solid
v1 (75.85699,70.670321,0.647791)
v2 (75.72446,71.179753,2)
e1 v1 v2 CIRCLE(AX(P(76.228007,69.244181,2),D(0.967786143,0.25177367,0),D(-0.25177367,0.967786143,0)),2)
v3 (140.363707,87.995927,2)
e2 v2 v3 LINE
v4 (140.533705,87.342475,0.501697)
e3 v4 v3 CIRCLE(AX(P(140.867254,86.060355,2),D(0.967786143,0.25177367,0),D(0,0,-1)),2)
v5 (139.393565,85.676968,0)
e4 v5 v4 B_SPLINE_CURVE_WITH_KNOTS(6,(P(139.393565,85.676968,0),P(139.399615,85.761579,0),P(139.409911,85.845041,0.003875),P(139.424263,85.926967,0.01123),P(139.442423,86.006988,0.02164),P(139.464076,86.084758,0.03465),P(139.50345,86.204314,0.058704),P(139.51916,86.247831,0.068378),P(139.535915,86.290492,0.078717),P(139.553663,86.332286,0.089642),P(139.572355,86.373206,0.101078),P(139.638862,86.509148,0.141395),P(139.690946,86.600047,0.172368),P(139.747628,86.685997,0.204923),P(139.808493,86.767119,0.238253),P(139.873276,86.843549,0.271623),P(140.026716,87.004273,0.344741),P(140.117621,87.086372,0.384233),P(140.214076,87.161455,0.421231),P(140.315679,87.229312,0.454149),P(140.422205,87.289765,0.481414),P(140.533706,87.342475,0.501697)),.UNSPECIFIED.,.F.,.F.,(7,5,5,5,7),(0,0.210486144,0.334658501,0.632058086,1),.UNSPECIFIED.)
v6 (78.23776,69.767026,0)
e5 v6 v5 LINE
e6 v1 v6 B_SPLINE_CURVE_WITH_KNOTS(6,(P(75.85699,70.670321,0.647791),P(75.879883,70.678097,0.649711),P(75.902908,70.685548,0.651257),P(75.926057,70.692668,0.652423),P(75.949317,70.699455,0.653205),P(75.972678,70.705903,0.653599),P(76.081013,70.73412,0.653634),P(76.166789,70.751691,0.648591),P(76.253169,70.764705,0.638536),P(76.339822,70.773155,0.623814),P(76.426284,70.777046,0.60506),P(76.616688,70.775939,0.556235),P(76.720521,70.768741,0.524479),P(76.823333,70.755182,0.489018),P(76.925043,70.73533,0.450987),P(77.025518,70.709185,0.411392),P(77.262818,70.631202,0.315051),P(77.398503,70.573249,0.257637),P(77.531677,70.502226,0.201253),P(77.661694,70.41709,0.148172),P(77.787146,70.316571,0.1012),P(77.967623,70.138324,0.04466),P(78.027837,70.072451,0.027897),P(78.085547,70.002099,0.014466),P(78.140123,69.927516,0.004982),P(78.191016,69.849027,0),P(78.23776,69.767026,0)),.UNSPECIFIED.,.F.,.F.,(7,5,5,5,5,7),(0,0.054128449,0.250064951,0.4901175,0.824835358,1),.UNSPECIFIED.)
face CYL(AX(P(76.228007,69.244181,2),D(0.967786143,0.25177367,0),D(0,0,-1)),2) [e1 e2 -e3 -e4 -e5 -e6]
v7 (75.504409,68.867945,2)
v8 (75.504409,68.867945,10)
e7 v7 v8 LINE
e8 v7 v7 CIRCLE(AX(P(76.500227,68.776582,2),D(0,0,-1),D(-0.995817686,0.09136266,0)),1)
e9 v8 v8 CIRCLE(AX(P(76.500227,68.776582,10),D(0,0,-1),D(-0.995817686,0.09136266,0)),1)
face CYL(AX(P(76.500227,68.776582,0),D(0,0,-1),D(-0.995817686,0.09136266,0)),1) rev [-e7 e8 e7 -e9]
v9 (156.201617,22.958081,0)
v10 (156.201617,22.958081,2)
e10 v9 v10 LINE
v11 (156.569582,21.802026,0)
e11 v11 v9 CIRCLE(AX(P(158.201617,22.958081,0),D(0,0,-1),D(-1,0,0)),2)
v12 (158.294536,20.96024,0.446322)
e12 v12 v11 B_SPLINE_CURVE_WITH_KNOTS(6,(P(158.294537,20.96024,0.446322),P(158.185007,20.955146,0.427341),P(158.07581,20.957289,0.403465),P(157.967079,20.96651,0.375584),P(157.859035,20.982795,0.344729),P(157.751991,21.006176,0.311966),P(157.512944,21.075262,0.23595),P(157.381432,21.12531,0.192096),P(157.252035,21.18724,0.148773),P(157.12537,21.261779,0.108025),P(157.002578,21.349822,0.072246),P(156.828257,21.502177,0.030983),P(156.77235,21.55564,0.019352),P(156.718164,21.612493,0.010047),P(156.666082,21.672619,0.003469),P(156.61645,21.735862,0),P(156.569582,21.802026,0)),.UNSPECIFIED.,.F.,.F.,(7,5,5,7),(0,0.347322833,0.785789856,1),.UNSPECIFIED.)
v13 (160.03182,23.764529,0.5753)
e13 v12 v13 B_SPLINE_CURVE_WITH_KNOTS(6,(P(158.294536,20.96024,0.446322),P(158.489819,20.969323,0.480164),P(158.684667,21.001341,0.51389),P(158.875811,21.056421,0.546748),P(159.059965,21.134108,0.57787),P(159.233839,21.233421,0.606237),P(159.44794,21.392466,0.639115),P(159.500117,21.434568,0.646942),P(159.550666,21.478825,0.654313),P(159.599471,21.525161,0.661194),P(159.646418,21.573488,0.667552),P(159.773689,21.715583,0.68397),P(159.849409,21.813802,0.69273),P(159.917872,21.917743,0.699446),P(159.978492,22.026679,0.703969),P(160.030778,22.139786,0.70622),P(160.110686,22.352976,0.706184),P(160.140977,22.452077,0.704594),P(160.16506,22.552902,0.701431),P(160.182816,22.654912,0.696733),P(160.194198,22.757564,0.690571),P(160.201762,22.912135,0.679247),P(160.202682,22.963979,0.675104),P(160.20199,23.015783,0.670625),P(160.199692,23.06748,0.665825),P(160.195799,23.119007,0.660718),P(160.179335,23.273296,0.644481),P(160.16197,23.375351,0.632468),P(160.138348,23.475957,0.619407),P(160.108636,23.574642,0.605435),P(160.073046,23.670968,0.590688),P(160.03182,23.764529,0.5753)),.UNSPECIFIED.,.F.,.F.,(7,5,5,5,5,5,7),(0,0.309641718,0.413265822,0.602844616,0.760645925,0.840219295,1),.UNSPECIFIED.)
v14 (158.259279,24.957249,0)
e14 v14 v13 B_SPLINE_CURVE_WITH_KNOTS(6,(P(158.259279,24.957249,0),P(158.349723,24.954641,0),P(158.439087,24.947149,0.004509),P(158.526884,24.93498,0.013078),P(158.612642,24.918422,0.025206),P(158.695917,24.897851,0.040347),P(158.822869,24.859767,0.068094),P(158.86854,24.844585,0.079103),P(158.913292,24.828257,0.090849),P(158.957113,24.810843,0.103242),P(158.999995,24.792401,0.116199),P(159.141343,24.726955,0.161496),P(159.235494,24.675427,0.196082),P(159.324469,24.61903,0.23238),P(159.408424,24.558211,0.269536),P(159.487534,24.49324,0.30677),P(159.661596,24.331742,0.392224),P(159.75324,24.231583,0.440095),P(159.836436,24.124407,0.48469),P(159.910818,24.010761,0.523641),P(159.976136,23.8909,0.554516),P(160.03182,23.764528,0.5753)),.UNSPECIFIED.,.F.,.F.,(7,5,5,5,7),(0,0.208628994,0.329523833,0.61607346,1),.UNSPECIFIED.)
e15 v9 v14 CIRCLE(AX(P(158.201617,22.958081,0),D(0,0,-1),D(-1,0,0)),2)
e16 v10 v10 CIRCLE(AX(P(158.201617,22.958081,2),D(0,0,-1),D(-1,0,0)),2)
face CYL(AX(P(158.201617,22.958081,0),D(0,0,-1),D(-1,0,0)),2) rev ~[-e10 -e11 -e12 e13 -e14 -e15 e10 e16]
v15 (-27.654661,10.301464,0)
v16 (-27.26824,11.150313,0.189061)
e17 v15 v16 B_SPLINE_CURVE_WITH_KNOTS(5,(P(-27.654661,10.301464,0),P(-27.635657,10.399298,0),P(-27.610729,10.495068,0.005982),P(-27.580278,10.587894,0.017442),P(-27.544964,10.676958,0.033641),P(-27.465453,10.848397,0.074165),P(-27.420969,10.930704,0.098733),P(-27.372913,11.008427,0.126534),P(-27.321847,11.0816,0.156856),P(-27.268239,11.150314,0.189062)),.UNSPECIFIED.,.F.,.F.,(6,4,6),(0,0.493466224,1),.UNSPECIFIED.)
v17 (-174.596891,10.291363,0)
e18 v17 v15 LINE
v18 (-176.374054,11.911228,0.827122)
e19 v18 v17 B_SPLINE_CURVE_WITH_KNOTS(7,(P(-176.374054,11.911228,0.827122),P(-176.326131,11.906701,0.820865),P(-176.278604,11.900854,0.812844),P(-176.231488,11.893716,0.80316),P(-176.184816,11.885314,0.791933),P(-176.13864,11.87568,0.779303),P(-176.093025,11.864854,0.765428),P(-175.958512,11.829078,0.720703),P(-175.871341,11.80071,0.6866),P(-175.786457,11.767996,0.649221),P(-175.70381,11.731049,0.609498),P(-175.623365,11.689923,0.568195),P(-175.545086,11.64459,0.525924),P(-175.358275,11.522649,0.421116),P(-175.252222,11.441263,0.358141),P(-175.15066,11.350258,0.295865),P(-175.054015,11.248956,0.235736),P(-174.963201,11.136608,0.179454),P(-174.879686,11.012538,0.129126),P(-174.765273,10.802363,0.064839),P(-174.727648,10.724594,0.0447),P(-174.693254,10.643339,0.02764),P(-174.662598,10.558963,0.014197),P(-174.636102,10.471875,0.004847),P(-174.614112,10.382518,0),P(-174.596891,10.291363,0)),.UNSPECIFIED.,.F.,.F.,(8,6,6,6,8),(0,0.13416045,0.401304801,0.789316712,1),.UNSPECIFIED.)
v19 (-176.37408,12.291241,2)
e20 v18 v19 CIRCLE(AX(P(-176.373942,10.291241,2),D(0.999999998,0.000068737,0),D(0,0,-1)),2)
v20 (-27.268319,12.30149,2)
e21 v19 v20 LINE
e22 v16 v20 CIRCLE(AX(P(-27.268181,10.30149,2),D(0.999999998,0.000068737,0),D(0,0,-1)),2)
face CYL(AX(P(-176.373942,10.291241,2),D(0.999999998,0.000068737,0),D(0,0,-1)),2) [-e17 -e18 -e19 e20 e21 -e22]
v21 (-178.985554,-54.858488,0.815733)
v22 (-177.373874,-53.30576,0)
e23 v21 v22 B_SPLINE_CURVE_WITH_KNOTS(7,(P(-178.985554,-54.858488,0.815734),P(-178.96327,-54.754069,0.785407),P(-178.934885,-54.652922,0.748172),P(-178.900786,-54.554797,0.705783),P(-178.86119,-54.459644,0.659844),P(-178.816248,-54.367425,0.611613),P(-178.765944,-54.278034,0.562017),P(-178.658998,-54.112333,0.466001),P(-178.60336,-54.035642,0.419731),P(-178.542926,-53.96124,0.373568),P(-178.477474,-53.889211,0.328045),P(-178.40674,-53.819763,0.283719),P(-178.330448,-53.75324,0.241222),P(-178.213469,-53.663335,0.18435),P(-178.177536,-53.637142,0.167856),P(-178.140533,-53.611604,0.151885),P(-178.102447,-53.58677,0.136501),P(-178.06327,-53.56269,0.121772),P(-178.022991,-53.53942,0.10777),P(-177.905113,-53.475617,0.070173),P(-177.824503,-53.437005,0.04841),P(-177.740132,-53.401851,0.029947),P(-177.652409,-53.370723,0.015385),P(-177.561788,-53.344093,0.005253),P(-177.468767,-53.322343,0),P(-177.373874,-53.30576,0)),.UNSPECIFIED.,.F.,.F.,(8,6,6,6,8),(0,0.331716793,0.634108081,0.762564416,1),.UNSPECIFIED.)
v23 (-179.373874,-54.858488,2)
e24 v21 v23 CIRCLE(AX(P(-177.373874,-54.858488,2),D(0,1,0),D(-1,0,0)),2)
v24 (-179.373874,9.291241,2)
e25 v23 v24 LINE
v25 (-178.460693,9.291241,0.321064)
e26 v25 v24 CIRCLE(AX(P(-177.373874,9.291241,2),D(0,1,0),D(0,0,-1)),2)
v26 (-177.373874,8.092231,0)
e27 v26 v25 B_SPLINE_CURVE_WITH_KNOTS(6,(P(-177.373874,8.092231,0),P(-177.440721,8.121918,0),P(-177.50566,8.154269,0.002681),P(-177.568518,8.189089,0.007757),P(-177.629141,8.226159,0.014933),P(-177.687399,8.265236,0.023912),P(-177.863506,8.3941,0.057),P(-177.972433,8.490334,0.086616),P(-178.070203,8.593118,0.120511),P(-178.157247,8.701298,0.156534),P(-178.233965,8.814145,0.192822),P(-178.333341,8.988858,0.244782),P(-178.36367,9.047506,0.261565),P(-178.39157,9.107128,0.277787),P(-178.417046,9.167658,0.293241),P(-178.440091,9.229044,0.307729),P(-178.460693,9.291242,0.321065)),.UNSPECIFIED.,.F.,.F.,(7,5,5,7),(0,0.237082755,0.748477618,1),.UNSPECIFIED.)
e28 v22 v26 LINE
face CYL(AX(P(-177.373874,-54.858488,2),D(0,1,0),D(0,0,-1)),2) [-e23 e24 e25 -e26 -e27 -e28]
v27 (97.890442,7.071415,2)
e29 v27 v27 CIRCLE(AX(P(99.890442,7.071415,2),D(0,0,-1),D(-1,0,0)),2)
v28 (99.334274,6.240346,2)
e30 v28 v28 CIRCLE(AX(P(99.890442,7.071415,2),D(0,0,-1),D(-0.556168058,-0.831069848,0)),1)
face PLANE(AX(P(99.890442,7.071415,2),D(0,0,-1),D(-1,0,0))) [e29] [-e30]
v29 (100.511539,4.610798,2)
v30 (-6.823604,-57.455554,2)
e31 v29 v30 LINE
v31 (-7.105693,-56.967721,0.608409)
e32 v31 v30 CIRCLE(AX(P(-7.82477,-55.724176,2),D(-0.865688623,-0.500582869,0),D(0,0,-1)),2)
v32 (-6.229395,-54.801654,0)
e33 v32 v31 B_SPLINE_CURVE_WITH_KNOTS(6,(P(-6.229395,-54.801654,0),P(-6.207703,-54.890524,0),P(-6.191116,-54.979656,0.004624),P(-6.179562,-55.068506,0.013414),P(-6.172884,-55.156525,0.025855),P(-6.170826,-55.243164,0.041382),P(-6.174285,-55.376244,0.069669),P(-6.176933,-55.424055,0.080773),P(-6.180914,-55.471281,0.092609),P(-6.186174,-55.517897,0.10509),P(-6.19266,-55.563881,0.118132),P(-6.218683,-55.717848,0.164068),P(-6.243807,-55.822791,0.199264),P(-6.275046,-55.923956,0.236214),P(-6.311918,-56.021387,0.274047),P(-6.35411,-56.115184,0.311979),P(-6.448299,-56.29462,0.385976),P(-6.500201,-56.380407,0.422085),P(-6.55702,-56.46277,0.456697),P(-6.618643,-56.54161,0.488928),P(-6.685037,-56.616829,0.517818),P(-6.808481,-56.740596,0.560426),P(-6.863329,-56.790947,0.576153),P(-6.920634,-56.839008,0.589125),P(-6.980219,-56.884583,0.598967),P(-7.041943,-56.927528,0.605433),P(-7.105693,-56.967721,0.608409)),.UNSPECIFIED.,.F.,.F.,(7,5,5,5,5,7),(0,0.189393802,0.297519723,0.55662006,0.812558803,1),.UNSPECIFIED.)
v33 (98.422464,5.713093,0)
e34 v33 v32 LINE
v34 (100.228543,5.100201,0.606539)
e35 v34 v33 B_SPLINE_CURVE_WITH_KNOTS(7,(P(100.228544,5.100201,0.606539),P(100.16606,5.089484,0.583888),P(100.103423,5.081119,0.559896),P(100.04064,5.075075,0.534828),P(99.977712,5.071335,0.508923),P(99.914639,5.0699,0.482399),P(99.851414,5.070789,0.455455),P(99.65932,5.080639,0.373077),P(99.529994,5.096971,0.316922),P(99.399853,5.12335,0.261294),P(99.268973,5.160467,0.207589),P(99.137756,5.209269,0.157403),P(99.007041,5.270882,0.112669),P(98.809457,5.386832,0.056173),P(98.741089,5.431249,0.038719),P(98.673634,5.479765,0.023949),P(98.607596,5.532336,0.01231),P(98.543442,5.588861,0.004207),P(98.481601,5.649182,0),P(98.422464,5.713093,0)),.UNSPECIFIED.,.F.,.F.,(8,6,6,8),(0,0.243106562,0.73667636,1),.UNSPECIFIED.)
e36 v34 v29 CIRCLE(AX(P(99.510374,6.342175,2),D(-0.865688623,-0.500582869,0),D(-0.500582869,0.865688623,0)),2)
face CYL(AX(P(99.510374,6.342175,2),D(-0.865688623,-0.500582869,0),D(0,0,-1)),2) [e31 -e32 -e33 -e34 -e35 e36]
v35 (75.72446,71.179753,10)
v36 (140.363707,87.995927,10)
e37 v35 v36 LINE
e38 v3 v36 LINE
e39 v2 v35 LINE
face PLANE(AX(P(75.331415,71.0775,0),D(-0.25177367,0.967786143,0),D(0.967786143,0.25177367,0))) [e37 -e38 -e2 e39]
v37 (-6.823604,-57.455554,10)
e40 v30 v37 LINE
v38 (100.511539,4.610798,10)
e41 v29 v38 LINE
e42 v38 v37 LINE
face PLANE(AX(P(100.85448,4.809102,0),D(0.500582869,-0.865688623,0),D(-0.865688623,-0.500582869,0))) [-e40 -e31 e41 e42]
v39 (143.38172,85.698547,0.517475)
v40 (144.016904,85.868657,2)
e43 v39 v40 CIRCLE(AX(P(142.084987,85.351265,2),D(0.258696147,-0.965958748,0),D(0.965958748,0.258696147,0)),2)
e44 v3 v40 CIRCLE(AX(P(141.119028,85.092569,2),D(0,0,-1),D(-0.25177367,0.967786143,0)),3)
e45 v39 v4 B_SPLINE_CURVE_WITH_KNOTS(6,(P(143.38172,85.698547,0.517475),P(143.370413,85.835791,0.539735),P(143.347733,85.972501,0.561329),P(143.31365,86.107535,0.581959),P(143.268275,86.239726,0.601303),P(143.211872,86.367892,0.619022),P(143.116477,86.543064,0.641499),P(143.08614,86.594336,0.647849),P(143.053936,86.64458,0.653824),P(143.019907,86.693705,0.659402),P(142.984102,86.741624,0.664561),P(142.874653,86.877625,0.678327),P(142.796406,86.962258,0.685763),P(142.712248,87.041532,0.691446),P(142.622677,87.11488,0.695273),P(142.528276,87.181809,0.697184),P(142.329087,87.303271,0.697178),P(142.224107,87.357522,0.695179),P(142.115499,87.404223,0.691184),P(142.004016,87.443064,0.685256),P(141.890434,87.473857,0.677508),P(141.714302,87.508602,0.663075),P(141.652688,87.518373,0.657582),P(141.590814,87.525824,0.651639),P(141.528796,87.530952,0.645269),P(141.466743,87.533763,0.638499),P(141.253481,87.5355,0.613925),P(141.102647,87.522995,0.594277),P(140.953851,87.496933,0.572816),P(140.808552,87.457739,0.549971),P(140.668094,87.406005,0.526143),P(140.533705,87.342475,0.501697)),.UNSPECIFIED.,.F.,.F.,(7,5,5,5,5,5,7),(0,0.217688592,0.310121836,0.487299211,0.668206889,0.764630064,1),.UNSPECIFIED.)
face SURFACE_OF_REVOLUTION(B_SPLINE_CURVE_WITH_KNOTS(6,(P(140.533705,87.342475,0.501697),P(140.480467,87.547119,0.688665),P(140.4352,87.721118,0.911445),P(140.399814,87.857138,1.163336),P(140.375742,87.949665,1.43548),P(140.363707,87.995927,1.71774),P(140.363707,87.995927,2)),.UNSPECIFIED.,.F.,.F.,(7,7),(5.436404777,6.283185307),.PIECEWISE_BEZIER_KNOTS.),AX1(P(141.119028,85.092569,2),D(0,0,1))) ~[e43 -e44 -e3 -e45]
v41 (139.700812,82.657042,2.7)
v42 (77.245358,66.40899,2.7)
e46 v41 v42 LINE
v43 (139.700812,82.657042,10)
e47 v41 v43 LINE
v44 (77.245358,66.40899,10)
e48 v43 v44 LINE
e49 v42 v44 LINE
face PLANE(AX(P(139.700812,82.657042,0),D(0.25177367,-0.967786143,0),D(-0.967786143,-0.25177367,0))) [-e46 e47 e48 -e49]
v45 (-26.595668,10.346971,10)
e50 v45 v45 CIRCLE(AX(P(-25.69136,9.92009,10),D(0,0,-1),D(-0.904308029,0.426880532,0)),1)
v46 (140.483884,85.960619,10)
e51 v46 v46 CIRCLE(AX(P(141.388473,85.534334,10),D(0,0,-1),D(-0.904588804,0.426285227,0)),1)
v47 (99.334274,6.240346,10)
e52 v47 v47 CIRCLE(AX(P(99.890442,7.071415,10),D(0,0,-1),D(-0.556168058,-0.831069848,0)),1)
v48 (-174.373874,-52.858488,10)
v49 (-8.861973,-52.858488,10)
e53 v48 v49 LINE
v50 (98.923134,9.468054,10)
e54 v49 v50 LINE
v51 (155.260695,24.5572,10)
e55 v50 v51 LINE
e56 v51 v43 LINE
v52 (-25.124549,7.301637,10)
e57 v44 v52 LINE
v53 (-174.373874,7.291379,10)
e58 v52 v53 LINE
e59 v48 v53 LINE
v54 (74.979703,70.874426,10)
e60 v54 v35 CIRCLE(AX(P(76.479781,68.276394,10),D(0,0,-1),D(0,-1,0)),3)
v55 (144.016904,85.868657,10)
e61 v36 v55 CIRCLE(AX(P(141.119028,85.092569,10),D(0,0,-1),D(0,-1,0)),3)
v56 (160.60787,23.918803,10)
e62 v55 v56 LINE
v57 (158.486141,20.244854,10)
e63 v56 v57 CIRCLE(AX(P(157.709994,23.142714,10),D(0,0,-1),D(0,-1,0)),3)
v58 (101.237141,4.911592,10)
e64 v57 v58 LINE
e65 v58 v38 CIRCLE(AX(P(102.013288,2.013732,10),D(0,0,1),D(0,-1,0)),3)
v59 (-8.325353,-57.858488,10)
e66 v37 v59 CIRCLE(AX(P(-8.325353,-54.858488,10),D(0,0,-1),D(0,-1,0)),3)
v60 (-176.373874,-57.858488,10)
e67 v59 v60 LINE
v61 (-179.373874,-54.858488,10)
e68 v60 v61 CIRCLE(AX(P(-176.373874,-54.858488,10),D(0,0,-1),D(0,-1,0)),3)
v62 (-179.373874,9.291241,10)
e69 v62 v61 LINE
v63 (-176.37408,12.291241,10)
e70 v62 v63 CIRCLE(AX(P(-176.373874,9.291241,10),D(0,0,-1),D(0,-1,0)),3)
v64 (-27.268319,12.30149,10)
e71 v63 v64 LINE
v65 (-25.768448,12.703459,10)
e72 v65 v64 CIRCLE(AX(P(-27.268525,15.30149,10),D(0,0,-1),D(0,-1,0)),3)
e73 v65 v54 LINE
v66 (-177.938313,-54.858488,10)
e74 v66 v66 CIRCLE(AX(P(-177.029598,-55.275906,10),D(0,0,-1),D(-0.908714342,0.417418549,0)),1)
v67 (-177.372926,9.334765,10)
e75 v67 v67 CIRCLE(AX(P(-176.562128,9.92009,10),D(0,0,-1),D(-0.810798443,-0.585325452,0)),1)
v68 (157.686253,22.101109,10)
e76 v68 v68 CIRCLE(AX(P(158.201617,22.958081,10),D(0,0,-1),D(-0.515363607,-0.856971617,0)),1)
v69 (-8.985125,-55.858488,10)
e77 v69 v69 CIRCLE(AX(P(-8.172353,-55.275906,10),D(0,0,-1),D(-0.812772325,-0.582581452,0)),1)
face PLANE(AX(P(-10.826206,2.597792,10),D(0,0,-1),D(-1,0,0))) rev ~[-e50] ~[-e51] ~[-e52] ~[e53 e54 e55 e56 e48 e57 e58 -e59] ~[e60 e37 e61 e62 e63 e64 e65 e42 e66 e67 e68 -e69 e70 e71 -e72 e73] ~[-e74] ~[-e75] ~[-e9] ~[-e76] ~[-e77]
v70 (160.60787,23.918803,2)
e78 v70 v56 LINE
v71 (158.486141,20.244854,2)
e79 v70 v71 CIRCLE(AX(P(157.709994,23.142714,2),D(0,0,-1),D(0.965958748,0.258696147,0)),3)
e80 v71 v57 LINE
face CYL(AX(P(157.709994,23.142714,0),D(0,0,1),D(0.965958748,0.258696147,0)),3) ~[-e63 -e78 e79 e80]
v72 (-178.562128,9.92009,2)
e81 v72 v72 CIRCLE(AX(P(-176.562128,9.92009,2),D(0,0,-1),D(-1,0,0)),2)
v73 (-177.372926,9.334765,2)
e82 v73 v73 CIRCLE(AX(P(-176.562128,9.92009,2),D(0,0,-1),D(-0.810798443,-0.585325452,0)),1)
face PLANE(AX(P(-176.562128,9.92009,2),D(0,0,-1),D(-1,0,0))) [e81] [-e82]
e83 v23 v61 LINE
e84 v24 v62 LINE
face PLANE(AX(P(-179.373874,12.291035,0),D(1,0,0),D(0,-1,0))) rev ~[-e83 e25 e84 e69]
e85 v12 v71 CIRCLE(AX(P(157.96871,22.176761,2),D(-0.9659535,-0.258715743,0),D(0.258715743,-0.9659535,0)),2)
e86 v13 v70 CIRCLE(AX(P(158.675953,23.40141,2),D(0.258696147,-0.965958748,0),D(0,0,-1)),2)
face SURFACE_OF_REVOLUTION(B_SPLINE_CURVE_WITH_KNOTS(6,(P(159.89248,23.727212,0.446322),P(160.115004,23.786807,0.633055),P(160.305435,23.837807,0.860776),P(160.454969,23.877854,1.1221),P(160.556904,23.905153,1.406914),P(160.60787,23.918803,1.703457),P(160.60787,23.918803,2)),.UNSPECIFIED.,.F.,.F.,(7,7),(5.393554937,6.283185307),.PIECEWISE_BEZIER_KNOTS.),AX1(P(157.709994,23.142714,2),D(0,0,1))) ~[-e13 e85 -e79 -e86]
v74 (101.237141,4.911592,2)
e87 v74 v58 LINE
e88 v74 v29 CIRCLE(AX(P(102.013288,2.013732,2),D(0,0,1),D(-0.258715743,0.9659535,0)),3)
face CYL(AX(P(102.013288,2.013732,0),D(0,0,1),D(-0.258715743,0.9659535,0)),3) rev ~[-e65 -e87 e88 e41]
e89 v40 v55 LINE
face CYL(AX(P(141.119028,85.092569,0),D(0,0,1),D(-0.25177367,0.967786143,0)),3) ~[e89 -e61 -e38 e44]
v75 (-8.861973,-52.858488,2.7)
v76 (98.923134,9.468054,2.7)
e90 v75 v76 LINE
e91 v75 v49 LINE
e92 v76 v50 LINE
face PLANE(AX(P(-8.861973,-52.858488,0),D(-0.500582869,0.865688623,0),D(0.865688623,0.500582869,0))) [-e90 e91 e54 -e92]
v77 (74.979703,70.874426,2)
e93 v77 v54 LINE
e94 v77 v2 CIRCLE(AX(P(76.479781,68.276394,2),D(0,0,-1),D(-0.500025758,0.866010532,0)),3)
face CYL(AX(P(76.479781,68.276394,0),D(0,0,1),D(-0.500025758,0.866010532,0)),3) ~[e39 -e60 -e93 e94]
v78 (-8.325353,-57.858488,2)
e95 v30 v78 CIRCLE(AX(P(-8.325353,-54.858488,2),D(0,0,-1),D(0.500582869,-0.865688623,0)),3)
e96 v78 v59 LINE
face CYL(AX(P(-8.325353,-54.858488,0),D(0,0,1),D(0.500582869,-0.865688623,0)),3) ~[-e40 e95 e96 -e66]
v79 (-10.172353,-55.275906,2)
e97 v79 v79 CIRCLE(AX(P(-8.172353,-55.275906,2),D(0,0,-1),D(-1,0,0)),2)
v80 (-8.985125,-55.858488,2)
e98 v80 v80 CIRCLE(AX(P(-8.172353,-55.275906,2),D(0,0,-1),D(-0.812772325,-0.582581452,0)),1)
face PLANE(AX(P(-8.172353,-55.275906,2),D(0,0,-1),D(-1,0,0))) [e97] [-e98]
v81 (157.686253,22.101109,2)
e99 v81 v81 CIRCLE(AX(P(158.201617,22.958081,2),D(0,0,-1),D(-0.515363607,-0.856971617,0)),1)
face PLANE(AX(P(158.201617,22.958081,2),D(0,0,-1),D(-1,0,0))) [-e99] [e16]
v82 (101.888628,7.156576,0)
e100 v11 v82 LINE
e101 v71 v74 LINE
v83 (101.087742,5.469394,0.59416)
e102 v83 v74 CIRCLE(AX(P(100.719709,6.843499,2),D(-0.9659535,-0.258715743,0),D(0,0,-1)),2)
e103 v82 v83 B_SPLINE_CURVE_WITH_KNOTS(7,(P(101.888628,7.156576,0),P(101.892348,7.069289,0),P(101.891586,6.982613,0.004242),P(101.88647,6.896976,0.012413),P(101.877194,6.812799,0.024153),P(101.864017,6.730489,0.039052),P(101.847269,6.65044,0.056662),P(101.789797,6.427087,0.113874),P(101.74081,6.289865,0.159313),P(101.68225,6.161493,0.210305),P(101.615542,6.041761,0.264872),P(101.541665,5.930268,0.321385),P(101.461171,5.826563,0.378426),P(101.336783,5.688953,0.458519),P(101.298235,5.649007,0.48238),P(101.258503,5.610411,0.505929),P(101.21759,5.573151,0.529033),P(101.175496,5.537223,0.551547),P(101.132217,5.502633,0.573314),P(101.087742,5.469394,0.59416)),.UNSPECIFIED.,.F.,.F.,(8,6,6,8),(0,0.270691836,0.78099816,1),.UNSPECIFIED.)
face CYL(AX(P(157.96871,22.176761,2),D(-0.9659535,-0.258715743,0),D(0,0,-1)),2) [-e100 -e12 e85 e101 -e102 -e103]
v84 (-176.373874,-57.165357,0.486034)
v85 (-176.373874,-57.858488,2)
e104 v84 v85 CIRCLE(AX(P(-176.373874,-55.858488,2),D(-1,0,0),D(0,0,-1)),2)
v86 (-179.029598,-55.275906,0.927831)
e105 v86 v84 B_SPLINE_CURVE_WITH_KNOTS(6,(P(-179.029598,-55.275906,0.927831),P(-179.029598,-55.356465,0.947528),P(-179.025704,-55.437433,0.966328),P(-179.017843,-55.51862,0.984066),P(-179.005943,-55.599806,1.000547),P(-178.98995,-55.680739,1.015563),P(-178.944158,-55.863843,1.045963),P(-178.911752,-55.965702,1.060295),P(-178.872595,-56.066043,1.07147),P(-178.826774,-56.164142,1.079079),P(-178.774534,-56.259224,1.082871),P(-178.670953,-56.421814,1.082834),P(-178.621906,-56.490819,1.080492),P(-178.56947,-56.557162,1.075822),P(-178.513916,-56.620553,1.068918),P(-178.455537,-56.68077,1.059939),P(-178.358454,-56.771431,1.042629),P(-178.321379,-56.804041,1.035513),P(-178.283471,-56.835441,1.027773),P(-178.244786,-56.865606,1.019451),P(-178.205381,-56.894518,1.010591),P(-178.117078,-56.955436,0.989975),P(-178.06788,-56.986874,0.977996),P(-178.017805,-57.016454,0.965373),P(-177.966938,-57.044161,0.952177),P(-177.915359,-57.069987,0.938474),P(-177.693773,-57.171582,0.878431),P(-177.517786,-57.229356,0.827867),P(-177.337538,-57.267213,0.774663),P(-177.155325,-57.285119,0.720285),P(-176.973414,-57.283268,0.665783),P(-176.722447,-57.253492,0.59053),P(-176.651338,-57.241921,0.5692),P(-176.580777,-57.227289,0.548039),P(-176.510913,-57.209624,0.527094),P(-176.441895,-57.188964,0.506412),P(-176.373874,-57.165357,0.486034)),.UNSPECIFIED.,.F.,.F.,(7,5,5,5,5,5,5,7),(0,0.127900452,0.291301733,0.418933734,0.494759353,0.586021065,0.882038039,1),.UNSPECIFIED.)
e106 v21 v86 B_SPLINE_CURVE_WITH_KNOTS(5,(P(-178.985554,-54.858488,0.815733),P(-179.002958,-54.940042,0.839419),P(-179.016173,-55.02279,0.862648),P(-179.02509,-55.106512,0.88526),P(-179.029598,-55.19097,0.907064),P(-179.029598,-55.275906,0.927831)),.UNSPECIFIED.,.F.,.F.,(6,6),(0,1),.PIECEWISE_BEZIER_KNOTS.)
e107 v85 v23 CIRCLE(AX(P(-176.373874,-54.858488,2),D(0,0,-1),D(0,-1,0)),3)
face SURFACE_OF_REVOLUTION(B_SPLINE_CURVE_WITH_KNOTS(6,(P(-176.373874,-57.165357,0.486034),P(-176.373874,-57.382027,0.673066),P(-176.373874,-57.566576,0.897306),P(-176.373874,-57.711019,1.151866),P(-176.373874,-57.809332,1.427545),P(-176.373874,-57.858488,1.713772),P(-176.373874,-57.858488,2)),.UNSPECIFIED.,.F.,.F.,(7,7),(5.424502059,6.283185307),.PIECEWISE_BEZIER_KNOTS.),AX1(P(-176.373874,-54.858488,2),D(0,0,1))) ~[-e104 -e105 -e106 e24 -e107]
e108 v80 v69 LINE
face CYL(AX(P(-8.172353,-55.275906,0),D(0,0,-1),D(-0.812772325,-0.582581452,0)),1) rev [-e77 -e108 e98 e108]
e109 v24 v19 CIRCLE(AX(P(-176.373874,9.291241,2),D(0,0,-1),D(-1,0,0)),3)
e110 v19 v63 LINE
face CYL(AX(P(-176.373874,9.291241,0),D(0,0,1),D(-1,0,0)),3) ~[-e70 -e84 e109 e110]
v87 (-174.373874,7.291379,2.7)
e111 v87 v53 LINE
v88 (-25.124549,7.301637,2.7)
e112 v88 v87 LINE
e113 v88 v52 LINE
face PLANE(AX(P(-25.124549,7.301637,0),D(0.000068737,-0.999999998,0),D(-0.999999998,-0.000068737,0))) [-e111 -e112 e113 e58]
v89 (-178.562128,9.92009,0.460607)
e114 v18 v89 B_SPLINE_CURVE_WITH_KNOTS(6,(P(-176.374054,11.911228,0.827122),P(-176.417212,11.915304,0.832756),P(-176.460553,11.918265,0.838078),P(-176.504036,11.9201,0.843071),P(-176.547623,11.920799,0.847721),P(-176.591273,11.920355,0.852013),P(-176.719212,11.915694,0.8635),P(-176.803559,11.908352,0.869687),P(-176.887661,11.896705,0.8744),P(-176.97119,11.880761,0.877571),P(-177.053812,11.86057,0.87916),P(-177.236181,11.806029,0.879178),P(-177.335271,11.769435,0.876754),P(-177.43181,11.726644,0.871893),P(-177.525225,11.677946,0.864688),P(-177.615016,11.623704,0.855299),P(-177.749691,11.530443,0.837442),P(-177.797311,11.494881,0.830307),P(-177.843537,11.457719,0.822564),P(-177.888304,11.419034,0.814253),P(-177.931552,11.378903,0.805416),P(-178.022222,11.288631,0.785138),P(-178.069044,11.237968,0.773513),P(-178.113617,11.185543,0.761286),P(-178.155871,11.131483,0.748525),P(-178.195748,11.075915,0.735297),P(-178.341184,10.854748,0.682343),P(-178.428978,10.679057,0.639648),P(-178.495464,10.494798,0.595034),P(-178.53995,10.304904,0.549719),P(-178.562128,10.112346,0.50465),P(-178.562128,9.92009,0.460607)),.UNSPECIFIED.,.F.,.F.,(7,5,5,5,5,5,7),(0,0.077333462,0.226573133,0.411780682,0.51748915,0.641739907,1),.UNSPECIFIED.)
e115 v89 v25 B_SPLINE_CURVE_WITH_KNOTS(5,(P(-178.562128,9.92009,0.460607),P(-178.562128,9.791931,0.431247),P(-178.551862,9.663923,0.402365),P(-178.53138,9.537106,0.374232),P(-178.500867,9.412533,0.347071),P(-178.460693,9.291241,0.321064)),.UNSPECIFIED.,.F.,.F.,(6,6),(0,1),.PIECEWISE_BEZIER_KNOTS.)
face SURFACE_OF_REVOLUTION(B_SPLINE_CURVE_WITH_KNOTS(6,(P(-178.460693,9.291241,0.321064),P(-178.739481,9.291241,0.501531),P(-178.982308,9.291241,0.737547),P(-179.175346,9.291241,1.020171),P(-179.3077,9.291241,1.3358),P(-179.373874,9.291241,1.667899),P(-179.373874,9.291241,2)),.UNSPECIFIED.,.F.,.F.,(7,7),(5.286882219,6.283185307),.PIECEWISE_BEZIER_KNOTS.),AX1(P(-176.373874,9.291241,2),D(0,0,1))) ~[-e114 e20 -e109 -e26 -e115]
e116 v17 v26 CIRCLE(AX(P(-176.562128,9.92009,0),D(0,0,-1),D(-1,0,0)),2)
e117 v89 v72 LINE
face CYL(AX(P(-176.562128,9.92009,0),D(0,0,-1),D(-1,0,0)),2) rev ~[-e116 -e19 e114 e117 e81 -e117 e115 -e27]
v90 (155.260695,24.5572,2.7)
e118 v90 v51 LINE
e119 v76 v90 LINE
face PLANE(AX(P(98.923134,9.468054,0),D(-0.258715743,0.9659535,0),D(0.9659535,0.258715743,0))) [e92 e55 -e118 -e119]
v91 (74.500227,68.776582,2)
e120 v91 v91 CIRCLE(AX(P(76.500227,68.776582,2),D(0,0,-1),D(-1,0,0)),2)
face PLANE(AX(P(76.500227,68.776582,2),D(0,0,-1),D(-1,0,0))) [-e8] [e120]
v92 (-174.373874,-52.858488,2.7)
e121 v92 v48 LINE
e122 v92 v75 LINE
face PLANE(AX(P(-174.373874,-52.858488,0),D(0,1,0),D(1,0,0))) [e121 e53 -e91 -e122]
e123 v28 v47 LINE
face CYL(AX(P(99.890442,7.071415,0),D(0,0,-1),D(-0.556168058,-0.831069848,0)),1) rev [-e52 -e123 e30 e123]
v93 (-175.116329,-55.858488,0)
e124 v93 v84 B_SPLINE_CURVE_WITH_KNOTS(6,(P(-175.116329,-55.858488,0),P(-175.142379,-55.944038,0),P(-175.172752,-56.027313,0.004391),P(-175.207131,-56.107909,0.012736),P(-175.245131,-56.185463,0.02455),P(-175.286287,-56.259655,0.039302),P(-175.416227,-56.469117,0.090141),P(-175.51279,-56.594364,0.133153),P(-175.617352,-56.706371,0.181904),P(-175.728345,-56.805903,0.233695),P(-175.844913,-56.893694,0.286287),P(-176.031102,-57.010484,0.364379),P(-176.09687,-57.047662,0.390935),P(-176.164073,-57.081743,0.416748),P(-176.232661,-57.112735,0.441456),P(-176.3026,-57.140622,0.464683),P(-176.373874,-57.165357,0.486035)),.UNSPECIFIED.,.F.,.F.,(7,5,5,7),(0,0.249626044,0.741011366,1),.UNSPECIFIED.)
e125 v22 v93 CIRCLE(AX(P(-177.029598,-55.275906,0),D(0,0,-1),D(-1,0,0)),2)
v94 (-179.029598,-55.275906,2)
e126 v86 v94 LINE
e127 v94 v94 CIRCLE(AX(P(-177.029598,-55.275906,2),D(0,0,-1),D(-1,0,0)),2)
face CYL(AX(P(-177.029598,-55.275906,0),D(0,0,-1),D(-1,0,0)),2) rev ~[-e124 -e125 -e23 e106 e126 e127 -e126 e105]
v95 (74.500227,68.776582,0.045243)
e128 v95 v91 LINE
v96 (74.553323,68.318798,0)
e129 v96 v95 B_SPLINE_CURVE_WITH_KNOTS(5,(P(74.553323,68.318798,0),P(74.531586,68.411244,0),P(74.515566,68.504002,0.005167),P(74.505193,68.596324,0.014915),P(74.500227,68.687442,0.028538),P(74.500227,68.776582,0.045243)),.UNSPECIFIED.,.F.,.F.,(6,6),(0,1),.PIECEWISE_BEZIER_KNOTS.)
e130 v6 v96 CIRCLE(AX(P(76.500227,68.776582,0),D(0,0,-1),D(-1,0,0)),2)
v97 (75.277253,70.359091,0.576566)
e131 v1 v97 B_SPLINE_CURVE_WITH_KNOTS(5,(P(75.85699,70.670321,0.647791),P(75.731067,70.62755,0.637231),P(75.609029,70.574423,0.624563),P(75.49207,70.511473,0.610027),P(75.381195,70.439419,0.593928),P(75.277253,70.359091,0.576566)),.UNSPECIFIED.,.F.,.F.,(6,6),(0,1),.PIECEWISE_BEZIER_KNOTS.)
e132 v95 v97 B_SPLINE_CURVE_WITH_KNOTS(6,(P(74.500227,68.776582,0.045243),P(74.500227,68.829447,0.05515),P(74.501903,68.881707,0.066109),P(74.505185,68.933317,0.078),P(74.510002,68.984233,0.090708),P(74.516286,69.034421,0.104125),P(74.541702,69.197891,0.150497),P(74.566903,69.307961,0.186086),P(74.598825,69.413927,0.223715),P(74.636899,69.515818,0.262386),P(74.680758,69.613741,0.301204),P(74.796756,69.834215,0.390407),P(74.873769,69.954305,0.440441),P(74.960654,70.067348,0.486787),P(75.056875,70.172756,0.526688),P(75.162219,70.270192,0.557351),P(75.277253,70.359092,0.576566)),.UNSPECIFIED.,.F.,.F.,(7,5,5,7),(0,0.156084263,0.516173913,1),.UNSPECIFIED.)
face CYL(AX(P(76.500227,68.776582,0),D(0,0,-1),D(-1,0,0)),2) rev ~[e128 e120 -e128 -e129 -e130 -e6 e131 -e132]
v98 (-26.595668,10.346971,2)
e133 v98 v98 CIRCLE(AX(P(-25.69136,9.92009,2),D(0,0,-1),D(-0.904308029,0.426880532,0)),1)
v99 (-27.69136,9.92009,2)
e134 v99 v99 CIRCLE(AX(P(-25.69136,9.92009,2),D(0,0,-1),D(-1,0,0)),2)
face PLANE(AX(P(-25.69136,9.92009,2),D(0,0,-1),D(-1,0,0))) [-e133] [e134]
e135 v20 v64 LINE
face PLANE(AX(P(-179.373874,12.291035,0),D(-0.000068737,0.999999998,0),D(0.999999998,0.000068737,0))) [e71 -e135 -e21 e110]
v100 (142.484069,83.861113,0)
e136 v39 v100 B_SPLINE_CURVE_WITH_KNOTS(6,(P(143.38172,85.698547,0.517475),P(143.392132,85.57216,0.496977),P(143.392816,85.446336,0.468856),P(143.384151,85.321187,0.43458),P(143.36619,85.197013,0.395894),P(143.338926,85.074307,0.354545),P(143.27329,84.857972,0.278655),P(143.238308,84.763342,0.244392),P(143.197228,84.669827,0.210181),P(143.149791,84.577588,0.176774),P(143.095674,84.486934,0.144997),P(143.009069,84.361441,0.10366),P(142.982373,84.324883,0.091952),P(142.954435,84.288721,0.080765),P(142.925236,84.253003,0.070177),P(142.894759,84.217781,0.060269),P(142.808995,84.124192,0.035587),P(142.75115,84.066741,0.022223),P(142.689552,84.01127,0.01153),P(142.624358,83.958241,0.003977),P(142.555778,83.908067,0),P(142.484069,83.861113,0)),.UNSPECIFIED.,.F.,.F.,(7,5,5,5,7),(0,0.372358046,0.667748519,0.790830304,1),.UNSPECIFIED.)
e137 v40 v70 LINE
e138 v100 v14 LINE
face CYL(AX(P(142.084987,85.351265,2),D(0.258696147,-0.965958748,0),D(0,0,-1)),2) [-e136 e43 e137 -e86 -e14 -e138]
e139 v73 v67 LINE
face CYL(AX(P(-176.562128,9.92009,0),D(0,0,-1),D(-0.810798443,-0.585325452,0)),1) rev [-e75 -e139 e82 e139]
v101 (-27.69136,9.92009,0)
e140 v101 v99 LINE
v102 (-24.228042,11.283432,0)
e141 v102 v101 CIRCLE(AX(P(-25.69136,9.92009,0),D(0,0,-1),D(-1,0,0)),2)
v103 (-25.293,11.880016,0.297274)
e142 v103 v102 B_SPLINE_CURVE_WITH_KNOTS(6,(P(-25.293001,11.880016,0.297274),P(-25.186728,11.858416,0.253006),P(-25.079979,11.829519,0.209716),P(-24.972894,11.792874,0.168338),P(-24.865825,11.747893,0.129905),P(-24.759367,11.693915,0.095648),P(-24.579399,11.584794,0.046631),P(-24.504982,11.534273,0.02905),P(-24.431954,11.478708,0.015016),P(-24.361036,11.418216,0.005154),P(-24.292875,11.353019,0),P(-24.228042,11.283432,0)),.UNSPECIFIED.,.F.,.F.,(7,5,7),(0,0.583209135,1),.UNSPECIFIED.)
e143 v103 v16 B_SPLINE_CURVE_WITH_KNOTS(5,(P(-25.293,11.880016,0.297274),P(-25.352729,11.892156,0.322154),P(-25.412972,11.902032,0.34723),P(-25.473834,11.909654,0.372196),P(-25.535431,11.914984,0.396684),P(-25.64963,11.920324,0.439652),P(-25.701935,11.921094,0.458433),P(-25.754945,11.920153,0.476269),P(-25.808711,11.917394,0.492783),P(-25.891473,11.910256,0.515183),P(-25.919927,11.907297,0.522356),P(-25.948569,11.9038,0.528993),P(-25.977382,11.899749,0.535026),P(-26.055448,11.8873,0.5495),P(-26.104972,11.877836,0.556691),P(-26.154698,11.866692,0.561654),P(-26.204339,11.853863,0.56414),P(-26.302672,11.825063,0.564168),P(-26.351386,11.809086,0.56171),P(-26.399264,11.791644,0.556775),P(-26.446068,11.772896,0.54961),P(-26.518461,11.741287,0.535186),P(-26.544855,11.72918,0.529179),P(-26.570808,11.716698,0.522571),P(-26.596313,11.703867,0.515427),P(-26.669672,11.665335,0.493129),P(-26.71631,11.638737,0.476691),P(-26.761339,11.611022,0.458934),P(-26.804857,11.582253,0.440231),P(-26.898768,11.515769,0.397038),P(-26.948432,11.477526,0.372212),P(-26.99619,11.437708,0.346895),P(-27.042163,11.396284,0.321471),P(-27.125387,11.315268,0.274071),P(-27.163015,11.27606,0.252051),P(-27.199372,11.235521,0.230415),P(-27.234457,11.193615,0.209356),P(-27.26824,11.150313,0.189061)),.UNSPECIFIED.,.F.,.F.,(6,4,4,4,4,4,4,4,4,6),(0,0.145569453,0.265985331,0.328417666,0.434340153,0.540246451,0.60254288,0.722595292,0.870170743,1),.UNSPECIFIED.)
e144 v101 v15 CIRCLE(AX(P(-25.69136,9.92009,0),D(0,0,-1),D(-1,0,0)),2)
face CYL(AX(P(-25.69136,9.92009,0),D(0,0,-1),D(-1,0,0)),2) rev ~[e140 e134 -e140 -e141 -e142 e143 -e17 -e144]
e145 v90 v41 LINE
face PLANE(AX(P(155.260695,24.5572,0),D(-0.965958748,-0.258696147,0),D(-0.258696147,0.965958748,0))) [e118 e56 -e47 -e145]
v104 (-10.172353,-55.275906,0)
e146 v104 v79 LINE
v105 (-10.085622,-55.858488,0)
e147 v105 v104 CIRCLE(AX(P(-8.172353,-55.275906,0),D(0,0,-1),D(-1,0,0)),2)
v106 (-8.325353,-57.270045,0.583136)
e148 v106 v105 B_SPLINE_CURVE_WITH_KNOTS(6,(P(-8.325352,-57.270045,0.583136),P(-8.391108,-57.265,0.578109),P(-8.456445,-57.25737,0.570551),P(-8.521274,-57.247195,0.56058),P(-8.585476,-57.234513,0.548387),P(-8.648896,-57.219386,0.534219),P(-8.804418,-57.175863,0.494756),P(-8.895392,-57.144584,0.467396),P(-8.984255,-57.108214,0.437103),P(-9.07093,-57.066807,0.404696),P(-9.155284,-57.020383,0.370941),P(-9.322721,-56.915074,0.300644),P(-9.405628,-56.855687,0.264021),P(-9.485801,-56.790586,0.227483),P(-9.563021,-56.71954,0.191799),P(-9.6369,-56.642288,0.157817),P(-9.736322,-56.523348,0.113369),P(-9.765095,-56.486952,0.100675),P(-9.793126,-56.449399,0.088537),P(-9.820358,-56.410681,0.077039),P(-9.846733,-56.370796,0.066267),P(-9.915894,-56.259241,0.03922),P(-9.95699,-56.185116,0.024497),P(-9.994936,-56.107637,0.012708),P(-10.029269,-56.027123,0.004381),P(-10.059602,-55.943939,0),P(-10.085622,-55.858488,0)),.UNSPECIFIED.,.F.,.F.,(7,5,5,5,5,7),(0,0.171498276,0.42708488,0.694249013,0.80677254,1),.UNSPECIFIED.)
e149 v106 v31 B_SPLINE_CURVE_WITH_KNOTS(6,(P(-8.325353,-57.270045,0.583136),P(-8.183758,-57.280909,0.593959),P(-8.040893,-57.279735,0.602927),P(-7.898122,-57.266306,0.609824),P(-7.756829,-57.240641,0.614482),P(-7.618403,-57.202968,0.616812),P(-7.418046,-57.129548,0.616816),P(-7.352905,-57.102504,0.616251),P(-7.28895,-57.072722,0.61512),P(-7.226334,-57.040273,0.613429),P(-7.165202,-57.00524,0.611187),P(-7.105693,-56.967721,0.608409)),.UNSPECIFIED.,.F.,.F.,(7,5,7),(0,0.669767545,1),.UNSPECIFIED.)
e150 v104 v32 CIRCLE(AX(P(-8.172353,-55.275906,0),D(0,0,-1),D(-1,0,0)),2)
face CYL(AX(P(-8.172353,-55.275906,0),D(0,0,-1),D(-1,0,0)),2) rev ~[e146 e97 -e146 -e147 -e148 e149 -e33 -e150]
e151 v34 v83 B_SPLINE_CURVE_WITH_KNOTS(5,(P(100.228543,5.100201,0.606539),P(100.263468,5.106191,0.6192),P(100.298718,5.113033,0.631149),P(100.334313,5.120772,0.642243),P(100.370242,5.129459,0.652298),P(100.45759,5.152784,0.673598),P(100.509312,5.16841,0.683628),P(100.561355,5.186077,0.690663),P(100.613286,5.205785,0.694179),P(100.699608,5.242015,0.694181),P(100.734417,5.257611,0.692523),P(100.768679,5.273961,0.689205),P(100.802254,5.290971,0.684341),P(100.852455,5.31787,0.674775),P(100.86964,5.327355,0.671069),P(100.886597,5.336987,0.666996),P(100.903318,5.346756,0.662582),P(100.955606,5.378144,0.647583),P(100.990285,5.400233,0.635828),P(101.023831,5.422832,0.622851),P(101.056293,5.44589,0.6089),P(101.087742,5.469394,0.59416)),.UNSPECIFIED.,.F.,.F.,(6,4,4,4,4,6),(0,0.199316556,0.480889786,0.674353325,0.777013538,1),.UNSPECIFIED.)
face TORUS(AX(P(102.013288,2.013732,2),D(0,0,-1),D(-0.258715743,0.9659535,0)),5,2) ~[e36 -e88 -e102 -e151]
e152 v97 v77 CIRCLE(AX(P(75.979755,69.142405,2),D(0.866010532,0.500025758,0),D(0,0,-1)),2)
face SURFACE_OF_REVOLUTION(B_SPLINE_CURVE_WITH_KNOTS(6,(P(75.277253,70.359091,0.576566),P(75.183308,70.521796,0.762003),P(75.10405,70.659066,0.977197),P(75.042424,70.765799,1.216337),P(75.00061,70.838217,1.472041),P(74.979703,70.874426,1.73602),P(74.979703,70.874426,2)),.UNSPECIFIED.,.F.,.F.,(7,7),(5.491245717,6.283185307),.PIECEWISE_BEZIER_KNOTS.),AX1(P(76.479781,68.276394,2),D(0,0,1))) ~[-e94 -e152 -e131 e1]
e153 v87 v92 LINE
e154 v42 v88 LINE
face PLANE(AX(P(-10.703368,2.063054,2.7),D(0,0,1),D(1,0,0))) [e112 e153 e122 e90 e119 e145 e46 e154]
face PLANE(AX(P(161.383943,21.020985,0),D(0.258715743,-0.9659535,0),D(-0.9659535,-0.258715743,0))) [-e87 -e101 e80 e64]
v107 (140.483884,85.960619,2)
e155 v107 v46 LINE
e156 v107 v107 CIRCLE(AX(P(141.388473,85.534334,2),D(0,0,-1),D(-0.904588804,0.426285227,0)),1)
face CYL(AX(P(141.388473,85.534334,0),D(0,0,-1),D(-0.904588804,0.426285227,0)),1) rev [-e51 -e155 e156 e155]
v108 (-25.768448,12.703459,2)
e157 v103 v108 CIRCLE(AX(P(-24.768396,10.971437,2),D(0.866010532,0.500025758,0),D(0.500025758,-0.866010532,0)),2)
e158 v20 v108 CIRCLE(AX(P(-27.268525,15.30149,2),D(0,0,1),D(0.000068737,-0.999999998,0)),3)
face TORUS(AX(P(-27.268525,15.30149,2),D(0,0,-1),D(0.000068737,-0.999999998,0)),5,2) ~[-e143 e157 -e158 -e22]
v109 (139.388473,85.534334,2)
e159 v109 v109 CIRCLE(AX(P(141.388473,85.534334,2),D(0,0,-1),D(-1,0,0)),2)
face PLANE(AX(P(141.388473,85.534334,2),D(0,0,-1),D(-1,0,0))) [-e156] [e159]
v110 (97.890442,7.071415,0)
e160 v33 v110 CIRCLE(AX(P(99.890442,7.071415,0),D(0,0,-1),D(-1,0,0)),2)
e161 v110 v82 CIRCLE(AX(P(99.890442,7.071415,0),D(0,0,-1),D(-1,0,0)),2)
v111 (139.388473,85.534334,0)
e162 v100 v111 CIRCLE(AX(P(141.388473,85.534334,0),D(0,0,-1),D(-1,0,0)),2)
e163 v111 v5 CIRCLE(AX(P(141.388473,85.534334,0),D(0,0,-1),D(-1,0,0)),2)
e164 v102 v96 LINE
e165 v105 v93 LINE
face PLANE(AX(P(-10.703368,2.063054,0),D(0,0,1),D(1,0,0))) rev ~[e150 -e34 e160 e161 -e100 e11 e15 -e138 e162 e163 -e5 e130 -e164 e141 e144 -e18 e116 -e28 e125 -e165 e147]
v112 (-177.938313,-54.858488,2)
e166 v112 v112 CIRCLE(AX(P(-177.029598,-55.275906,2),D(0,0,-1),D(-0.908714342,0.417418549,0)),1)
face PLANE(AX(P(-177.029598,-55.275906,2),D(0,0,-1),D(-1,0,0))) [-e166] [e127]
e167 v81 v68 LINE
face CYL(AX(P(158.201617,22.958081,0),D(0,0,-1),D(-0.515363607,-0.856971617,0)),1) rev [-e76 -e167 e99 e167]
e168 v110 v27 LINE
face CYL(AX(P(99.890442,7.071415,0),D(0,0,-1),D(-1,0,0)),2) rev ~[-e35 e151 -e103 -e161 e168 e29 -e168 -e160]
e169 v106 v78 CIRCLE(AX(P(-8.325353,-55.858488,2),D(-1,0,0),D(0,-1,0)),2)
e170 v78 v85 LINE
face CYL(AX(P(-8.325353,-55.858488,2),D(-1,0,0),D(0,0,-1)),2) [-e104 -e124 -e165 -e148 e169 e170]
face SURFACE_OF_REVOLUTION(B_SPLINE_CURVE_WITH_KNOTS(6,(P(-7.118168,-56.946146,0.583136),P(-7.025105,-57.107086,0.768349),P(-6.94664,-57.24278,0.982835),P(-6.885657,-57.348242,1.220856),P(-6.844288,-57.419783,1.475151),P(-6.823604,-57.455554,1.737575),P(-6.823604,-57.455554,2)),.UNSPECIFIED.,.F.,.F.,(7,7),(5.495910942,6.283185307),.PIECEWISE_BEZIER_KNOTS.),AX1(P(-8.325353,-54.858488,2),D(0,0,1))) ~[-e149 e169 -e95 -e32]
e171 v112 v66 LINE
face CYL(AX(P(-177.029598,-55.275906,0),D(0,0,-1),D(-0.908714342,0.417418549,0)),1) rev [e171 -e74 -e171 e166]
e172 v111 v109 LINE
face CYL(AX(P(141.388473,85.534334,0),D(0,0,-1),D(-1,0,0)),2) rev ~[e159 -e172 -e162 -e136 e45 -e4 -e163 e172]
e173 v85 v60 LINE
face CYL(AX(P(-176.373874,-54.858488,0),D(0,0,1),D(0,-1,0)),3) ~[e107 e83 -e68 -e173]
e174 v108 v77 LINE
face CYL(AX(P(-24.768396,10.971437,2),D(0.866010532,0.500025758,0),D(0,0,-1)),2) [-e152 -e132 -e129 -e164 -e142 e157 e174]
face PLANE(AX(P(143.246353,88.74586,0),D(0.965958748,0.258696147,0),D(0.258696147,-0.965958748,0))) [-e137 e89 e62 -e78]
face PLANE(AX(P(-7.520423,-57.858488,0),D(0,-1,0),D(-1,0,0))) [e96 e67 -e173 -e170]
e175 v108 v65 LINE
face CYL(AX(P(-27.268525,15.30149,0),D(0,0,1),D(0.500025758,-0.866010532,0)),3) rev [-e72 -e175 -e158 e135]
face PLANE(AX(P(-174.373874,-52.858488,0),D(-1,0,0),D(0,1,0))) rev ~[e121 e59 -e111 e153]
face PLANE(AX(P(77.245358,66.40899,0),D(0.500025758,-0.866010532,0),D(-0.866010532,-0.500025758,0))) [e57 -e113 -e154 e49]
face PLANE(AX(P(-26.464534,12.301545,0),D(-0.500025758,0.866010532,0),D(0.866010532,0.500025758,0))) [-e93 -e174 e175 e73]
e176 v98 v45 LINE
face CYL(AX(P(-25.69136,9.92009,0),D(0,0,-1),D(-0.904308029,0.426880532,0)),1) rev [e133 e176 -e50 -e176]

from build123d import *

# Parameters (mm, degrees)
BOSS_EXTRU_1_DEPTH      = 10
CONG_1_R                = 3
BOSS_EXTRU_2_DEPTH      = 2.7
CONG_2_R                = 2
ESQUISSE3_R             = 1
ENL_V_MAT_EXTRU_1_DEPTH = 20
ESQUISSE4_R             = 2
ENL_V_MAT_EXTRU_2_DEPTH = 2


with BuildPart() as part:
    # Model → Boss.-Extru.1 (new body)
    with BuildSketch(Plane.XY):
        Polygon((-26.464533767, 12.30154537), (75.33141454, 71.077500491), (143.246352653, 88.745859712), (161.383942986, 21.020985262), (100.854480283, 4.809102496), (-7.520422715, -57.858487698), (-179.373873722, -57.858487698), (-179.373873722, -50.687645053), (-179.373873722, 12.291034855), align=None)
        Polygon((-25.124548608, 7.301637465), (-174.373873722, 7.291378528), (-174.373873722, -50.687645053), (-174.373873722, -52.858487698), (-8.861972593, -52.858487698), (98.923133978, 9.468053786), (155.26069475, 24.557200291), (139.700811798, 82.657041562), (77.245358051, 66.408990356), align=None, mode=Mode.SUBTRACT)
    extrude(amount=BOSS_EXTRU_1_DEPTH)

    # Congé1
    cong_1_edges = [part.edges().sort_by_distance(p)[0] for p in [
        (75.33141454, 71.077500491, 5),
        (143.246352653, 88.745859712, 5),
        (161.383942986, 21.020985262, 5),
        (100.854480283, 4.809102496, 5),
        (-7.520422715, -57.858487698, 5),
        (-179.373873722, -57.858487698, 5),
        (-179.373873722, 12.291034855, 5),
        (-26.464533767, 12.30154537, 5),
    ]]
    fillet(cong_1_edges, radius=CONG_1_R)

    # Esquisse1 → Boss.-Extru.2 (add)
    with BuildSketch(Plane.XY):
        Polygon((-25.124548608, 7.301637465), (-174.373873722, 7.291378528), (-174.373873722, -50.687645053), (-174.373873722, -52.858487698), (-8.861972593, -52.858487698), (98.923133978, 9.468053786), (155.26069475, 24.557200291), (139.700811798, 82.657041562), (77.245358051, 66.408990356), align=None)
    extrude(amount=BOSS_EXTRU_2_DEPTH)

    # Congé2
    cong_2_edges = [part.edges().sort_by_distance(p)[0] for p in [
        (-101.821199292, 12.296365586, 0),
        (24.605627892, 41.788942262, 0),
        (108.044083383, 79.587840046, 0),
        (152.312387337, 54.893729991, 0),
        (129.861641055, 12.578223, 0),
        (46.843967712, -26.422377988, 0),
        (-92.349613182, -57.858487698, 0),
        (-179.373873722, -22.78362332, 0),
        (-178.495266971, 11.412488494, 0),
        (-178.495194066, -56.979808041, 0),
        (-7.547920203, -57.756003669, 0),
        (160.307894606, 21.642410085, 0),
        (142.628648998, 87.685066626, 0),
        (75.341794938, 71.05218052, 0),
        (-26.491925042, 12.40375087, 0),
        (100.86445313, 4.78504518, 0),
    ]]
    fillet(cong_2_edges, radius=CONG_2_R)

    # Esquisse3 → Enlèv. mat.-Extru.1 (cut)
    with BuildSketch(Plane.XY):
        with Locations(Location((158.201617013, 22.958080812, 0), (0, 0, 238.978237888))):
            Circle(ESQUISSE3_R)
        with Locations(Location((141.388472611, 85.534334234, 0), (0, 0, 154.767958728))):
            Circle(ESQUISSE3_R)
        with Locations(Location((76.500226548, 68.776582274, 0), (0, 0, 174.757995249))):
            Circle(ESQUISSE3_R)
        with Locations(Location((99.890442316, 7.071415488, 0), (0, 0, 236.208794577))):
            Circle(ESQUISSE3_R)
        with Locations(Location((-8.172352823, -55.275906246, 0), (0, 0, 215.632313771))):
            Circle(ESQUISSE3_R)
        with Locations(Location((-25.691359515, 9.920090126, 0), (0, 0, 154.730246838))):
            Circle(ESQUISSE3_R)
        with Locations(Location((-176.562127678, 9.920090126, 0), (0, 0, 215.825985053))):
            Circle(ESQUISSE3_R)
        with Locations(Location((-177.029598341, -55.275906246, 0), (0, 0, 155.328283389))):
            Circle(ESQUISSE3_R)
    extrude(amount=ENL_V_MAT_EXTRU_1_DEPTH, mode=Mode.SUBTRACT)

    # Esquisse4 → Enlèv. mat.-Extru.2 (cut)
    with BuildSketch(Plane(origin=(0, 0, 0), x_dir=(-1, 0, 0), z_dir=(0, 0, -1))):
        with Locations((177.029598341, -55.275906246)):
            Circle(ESQUISSE4_R)
        with Locations((176.562127678, 9.920090126)):
            Circle(ESQUISSE4_R)
        with Locations((25.691359515, 9.920090126)):
            Circle(ESQUISSE4_R)
        with Locations((-76.500226548, 68.776582274)):
            Circle(ESQUISSE4_R)
        with Locations((-141.388472611, 85.534334234)):
            Circle(ESQUISSE4_R)
        with Locations((-158.201617013, 22.958080812)):
            Circle(ESQUISSE4_R)
        with Locations((-99.890442316, 7.071415488)):
            Circle(ESQUISSE4_R)
        with Locations((8.172352823, -55.275906246)):
            Circle(ESQUISSE4_R)
    extrude(amount=-ENL_V_MAT_EXTRU_2_DEPTH, mode=Mode.SUBTRACT)


solid = part.part
